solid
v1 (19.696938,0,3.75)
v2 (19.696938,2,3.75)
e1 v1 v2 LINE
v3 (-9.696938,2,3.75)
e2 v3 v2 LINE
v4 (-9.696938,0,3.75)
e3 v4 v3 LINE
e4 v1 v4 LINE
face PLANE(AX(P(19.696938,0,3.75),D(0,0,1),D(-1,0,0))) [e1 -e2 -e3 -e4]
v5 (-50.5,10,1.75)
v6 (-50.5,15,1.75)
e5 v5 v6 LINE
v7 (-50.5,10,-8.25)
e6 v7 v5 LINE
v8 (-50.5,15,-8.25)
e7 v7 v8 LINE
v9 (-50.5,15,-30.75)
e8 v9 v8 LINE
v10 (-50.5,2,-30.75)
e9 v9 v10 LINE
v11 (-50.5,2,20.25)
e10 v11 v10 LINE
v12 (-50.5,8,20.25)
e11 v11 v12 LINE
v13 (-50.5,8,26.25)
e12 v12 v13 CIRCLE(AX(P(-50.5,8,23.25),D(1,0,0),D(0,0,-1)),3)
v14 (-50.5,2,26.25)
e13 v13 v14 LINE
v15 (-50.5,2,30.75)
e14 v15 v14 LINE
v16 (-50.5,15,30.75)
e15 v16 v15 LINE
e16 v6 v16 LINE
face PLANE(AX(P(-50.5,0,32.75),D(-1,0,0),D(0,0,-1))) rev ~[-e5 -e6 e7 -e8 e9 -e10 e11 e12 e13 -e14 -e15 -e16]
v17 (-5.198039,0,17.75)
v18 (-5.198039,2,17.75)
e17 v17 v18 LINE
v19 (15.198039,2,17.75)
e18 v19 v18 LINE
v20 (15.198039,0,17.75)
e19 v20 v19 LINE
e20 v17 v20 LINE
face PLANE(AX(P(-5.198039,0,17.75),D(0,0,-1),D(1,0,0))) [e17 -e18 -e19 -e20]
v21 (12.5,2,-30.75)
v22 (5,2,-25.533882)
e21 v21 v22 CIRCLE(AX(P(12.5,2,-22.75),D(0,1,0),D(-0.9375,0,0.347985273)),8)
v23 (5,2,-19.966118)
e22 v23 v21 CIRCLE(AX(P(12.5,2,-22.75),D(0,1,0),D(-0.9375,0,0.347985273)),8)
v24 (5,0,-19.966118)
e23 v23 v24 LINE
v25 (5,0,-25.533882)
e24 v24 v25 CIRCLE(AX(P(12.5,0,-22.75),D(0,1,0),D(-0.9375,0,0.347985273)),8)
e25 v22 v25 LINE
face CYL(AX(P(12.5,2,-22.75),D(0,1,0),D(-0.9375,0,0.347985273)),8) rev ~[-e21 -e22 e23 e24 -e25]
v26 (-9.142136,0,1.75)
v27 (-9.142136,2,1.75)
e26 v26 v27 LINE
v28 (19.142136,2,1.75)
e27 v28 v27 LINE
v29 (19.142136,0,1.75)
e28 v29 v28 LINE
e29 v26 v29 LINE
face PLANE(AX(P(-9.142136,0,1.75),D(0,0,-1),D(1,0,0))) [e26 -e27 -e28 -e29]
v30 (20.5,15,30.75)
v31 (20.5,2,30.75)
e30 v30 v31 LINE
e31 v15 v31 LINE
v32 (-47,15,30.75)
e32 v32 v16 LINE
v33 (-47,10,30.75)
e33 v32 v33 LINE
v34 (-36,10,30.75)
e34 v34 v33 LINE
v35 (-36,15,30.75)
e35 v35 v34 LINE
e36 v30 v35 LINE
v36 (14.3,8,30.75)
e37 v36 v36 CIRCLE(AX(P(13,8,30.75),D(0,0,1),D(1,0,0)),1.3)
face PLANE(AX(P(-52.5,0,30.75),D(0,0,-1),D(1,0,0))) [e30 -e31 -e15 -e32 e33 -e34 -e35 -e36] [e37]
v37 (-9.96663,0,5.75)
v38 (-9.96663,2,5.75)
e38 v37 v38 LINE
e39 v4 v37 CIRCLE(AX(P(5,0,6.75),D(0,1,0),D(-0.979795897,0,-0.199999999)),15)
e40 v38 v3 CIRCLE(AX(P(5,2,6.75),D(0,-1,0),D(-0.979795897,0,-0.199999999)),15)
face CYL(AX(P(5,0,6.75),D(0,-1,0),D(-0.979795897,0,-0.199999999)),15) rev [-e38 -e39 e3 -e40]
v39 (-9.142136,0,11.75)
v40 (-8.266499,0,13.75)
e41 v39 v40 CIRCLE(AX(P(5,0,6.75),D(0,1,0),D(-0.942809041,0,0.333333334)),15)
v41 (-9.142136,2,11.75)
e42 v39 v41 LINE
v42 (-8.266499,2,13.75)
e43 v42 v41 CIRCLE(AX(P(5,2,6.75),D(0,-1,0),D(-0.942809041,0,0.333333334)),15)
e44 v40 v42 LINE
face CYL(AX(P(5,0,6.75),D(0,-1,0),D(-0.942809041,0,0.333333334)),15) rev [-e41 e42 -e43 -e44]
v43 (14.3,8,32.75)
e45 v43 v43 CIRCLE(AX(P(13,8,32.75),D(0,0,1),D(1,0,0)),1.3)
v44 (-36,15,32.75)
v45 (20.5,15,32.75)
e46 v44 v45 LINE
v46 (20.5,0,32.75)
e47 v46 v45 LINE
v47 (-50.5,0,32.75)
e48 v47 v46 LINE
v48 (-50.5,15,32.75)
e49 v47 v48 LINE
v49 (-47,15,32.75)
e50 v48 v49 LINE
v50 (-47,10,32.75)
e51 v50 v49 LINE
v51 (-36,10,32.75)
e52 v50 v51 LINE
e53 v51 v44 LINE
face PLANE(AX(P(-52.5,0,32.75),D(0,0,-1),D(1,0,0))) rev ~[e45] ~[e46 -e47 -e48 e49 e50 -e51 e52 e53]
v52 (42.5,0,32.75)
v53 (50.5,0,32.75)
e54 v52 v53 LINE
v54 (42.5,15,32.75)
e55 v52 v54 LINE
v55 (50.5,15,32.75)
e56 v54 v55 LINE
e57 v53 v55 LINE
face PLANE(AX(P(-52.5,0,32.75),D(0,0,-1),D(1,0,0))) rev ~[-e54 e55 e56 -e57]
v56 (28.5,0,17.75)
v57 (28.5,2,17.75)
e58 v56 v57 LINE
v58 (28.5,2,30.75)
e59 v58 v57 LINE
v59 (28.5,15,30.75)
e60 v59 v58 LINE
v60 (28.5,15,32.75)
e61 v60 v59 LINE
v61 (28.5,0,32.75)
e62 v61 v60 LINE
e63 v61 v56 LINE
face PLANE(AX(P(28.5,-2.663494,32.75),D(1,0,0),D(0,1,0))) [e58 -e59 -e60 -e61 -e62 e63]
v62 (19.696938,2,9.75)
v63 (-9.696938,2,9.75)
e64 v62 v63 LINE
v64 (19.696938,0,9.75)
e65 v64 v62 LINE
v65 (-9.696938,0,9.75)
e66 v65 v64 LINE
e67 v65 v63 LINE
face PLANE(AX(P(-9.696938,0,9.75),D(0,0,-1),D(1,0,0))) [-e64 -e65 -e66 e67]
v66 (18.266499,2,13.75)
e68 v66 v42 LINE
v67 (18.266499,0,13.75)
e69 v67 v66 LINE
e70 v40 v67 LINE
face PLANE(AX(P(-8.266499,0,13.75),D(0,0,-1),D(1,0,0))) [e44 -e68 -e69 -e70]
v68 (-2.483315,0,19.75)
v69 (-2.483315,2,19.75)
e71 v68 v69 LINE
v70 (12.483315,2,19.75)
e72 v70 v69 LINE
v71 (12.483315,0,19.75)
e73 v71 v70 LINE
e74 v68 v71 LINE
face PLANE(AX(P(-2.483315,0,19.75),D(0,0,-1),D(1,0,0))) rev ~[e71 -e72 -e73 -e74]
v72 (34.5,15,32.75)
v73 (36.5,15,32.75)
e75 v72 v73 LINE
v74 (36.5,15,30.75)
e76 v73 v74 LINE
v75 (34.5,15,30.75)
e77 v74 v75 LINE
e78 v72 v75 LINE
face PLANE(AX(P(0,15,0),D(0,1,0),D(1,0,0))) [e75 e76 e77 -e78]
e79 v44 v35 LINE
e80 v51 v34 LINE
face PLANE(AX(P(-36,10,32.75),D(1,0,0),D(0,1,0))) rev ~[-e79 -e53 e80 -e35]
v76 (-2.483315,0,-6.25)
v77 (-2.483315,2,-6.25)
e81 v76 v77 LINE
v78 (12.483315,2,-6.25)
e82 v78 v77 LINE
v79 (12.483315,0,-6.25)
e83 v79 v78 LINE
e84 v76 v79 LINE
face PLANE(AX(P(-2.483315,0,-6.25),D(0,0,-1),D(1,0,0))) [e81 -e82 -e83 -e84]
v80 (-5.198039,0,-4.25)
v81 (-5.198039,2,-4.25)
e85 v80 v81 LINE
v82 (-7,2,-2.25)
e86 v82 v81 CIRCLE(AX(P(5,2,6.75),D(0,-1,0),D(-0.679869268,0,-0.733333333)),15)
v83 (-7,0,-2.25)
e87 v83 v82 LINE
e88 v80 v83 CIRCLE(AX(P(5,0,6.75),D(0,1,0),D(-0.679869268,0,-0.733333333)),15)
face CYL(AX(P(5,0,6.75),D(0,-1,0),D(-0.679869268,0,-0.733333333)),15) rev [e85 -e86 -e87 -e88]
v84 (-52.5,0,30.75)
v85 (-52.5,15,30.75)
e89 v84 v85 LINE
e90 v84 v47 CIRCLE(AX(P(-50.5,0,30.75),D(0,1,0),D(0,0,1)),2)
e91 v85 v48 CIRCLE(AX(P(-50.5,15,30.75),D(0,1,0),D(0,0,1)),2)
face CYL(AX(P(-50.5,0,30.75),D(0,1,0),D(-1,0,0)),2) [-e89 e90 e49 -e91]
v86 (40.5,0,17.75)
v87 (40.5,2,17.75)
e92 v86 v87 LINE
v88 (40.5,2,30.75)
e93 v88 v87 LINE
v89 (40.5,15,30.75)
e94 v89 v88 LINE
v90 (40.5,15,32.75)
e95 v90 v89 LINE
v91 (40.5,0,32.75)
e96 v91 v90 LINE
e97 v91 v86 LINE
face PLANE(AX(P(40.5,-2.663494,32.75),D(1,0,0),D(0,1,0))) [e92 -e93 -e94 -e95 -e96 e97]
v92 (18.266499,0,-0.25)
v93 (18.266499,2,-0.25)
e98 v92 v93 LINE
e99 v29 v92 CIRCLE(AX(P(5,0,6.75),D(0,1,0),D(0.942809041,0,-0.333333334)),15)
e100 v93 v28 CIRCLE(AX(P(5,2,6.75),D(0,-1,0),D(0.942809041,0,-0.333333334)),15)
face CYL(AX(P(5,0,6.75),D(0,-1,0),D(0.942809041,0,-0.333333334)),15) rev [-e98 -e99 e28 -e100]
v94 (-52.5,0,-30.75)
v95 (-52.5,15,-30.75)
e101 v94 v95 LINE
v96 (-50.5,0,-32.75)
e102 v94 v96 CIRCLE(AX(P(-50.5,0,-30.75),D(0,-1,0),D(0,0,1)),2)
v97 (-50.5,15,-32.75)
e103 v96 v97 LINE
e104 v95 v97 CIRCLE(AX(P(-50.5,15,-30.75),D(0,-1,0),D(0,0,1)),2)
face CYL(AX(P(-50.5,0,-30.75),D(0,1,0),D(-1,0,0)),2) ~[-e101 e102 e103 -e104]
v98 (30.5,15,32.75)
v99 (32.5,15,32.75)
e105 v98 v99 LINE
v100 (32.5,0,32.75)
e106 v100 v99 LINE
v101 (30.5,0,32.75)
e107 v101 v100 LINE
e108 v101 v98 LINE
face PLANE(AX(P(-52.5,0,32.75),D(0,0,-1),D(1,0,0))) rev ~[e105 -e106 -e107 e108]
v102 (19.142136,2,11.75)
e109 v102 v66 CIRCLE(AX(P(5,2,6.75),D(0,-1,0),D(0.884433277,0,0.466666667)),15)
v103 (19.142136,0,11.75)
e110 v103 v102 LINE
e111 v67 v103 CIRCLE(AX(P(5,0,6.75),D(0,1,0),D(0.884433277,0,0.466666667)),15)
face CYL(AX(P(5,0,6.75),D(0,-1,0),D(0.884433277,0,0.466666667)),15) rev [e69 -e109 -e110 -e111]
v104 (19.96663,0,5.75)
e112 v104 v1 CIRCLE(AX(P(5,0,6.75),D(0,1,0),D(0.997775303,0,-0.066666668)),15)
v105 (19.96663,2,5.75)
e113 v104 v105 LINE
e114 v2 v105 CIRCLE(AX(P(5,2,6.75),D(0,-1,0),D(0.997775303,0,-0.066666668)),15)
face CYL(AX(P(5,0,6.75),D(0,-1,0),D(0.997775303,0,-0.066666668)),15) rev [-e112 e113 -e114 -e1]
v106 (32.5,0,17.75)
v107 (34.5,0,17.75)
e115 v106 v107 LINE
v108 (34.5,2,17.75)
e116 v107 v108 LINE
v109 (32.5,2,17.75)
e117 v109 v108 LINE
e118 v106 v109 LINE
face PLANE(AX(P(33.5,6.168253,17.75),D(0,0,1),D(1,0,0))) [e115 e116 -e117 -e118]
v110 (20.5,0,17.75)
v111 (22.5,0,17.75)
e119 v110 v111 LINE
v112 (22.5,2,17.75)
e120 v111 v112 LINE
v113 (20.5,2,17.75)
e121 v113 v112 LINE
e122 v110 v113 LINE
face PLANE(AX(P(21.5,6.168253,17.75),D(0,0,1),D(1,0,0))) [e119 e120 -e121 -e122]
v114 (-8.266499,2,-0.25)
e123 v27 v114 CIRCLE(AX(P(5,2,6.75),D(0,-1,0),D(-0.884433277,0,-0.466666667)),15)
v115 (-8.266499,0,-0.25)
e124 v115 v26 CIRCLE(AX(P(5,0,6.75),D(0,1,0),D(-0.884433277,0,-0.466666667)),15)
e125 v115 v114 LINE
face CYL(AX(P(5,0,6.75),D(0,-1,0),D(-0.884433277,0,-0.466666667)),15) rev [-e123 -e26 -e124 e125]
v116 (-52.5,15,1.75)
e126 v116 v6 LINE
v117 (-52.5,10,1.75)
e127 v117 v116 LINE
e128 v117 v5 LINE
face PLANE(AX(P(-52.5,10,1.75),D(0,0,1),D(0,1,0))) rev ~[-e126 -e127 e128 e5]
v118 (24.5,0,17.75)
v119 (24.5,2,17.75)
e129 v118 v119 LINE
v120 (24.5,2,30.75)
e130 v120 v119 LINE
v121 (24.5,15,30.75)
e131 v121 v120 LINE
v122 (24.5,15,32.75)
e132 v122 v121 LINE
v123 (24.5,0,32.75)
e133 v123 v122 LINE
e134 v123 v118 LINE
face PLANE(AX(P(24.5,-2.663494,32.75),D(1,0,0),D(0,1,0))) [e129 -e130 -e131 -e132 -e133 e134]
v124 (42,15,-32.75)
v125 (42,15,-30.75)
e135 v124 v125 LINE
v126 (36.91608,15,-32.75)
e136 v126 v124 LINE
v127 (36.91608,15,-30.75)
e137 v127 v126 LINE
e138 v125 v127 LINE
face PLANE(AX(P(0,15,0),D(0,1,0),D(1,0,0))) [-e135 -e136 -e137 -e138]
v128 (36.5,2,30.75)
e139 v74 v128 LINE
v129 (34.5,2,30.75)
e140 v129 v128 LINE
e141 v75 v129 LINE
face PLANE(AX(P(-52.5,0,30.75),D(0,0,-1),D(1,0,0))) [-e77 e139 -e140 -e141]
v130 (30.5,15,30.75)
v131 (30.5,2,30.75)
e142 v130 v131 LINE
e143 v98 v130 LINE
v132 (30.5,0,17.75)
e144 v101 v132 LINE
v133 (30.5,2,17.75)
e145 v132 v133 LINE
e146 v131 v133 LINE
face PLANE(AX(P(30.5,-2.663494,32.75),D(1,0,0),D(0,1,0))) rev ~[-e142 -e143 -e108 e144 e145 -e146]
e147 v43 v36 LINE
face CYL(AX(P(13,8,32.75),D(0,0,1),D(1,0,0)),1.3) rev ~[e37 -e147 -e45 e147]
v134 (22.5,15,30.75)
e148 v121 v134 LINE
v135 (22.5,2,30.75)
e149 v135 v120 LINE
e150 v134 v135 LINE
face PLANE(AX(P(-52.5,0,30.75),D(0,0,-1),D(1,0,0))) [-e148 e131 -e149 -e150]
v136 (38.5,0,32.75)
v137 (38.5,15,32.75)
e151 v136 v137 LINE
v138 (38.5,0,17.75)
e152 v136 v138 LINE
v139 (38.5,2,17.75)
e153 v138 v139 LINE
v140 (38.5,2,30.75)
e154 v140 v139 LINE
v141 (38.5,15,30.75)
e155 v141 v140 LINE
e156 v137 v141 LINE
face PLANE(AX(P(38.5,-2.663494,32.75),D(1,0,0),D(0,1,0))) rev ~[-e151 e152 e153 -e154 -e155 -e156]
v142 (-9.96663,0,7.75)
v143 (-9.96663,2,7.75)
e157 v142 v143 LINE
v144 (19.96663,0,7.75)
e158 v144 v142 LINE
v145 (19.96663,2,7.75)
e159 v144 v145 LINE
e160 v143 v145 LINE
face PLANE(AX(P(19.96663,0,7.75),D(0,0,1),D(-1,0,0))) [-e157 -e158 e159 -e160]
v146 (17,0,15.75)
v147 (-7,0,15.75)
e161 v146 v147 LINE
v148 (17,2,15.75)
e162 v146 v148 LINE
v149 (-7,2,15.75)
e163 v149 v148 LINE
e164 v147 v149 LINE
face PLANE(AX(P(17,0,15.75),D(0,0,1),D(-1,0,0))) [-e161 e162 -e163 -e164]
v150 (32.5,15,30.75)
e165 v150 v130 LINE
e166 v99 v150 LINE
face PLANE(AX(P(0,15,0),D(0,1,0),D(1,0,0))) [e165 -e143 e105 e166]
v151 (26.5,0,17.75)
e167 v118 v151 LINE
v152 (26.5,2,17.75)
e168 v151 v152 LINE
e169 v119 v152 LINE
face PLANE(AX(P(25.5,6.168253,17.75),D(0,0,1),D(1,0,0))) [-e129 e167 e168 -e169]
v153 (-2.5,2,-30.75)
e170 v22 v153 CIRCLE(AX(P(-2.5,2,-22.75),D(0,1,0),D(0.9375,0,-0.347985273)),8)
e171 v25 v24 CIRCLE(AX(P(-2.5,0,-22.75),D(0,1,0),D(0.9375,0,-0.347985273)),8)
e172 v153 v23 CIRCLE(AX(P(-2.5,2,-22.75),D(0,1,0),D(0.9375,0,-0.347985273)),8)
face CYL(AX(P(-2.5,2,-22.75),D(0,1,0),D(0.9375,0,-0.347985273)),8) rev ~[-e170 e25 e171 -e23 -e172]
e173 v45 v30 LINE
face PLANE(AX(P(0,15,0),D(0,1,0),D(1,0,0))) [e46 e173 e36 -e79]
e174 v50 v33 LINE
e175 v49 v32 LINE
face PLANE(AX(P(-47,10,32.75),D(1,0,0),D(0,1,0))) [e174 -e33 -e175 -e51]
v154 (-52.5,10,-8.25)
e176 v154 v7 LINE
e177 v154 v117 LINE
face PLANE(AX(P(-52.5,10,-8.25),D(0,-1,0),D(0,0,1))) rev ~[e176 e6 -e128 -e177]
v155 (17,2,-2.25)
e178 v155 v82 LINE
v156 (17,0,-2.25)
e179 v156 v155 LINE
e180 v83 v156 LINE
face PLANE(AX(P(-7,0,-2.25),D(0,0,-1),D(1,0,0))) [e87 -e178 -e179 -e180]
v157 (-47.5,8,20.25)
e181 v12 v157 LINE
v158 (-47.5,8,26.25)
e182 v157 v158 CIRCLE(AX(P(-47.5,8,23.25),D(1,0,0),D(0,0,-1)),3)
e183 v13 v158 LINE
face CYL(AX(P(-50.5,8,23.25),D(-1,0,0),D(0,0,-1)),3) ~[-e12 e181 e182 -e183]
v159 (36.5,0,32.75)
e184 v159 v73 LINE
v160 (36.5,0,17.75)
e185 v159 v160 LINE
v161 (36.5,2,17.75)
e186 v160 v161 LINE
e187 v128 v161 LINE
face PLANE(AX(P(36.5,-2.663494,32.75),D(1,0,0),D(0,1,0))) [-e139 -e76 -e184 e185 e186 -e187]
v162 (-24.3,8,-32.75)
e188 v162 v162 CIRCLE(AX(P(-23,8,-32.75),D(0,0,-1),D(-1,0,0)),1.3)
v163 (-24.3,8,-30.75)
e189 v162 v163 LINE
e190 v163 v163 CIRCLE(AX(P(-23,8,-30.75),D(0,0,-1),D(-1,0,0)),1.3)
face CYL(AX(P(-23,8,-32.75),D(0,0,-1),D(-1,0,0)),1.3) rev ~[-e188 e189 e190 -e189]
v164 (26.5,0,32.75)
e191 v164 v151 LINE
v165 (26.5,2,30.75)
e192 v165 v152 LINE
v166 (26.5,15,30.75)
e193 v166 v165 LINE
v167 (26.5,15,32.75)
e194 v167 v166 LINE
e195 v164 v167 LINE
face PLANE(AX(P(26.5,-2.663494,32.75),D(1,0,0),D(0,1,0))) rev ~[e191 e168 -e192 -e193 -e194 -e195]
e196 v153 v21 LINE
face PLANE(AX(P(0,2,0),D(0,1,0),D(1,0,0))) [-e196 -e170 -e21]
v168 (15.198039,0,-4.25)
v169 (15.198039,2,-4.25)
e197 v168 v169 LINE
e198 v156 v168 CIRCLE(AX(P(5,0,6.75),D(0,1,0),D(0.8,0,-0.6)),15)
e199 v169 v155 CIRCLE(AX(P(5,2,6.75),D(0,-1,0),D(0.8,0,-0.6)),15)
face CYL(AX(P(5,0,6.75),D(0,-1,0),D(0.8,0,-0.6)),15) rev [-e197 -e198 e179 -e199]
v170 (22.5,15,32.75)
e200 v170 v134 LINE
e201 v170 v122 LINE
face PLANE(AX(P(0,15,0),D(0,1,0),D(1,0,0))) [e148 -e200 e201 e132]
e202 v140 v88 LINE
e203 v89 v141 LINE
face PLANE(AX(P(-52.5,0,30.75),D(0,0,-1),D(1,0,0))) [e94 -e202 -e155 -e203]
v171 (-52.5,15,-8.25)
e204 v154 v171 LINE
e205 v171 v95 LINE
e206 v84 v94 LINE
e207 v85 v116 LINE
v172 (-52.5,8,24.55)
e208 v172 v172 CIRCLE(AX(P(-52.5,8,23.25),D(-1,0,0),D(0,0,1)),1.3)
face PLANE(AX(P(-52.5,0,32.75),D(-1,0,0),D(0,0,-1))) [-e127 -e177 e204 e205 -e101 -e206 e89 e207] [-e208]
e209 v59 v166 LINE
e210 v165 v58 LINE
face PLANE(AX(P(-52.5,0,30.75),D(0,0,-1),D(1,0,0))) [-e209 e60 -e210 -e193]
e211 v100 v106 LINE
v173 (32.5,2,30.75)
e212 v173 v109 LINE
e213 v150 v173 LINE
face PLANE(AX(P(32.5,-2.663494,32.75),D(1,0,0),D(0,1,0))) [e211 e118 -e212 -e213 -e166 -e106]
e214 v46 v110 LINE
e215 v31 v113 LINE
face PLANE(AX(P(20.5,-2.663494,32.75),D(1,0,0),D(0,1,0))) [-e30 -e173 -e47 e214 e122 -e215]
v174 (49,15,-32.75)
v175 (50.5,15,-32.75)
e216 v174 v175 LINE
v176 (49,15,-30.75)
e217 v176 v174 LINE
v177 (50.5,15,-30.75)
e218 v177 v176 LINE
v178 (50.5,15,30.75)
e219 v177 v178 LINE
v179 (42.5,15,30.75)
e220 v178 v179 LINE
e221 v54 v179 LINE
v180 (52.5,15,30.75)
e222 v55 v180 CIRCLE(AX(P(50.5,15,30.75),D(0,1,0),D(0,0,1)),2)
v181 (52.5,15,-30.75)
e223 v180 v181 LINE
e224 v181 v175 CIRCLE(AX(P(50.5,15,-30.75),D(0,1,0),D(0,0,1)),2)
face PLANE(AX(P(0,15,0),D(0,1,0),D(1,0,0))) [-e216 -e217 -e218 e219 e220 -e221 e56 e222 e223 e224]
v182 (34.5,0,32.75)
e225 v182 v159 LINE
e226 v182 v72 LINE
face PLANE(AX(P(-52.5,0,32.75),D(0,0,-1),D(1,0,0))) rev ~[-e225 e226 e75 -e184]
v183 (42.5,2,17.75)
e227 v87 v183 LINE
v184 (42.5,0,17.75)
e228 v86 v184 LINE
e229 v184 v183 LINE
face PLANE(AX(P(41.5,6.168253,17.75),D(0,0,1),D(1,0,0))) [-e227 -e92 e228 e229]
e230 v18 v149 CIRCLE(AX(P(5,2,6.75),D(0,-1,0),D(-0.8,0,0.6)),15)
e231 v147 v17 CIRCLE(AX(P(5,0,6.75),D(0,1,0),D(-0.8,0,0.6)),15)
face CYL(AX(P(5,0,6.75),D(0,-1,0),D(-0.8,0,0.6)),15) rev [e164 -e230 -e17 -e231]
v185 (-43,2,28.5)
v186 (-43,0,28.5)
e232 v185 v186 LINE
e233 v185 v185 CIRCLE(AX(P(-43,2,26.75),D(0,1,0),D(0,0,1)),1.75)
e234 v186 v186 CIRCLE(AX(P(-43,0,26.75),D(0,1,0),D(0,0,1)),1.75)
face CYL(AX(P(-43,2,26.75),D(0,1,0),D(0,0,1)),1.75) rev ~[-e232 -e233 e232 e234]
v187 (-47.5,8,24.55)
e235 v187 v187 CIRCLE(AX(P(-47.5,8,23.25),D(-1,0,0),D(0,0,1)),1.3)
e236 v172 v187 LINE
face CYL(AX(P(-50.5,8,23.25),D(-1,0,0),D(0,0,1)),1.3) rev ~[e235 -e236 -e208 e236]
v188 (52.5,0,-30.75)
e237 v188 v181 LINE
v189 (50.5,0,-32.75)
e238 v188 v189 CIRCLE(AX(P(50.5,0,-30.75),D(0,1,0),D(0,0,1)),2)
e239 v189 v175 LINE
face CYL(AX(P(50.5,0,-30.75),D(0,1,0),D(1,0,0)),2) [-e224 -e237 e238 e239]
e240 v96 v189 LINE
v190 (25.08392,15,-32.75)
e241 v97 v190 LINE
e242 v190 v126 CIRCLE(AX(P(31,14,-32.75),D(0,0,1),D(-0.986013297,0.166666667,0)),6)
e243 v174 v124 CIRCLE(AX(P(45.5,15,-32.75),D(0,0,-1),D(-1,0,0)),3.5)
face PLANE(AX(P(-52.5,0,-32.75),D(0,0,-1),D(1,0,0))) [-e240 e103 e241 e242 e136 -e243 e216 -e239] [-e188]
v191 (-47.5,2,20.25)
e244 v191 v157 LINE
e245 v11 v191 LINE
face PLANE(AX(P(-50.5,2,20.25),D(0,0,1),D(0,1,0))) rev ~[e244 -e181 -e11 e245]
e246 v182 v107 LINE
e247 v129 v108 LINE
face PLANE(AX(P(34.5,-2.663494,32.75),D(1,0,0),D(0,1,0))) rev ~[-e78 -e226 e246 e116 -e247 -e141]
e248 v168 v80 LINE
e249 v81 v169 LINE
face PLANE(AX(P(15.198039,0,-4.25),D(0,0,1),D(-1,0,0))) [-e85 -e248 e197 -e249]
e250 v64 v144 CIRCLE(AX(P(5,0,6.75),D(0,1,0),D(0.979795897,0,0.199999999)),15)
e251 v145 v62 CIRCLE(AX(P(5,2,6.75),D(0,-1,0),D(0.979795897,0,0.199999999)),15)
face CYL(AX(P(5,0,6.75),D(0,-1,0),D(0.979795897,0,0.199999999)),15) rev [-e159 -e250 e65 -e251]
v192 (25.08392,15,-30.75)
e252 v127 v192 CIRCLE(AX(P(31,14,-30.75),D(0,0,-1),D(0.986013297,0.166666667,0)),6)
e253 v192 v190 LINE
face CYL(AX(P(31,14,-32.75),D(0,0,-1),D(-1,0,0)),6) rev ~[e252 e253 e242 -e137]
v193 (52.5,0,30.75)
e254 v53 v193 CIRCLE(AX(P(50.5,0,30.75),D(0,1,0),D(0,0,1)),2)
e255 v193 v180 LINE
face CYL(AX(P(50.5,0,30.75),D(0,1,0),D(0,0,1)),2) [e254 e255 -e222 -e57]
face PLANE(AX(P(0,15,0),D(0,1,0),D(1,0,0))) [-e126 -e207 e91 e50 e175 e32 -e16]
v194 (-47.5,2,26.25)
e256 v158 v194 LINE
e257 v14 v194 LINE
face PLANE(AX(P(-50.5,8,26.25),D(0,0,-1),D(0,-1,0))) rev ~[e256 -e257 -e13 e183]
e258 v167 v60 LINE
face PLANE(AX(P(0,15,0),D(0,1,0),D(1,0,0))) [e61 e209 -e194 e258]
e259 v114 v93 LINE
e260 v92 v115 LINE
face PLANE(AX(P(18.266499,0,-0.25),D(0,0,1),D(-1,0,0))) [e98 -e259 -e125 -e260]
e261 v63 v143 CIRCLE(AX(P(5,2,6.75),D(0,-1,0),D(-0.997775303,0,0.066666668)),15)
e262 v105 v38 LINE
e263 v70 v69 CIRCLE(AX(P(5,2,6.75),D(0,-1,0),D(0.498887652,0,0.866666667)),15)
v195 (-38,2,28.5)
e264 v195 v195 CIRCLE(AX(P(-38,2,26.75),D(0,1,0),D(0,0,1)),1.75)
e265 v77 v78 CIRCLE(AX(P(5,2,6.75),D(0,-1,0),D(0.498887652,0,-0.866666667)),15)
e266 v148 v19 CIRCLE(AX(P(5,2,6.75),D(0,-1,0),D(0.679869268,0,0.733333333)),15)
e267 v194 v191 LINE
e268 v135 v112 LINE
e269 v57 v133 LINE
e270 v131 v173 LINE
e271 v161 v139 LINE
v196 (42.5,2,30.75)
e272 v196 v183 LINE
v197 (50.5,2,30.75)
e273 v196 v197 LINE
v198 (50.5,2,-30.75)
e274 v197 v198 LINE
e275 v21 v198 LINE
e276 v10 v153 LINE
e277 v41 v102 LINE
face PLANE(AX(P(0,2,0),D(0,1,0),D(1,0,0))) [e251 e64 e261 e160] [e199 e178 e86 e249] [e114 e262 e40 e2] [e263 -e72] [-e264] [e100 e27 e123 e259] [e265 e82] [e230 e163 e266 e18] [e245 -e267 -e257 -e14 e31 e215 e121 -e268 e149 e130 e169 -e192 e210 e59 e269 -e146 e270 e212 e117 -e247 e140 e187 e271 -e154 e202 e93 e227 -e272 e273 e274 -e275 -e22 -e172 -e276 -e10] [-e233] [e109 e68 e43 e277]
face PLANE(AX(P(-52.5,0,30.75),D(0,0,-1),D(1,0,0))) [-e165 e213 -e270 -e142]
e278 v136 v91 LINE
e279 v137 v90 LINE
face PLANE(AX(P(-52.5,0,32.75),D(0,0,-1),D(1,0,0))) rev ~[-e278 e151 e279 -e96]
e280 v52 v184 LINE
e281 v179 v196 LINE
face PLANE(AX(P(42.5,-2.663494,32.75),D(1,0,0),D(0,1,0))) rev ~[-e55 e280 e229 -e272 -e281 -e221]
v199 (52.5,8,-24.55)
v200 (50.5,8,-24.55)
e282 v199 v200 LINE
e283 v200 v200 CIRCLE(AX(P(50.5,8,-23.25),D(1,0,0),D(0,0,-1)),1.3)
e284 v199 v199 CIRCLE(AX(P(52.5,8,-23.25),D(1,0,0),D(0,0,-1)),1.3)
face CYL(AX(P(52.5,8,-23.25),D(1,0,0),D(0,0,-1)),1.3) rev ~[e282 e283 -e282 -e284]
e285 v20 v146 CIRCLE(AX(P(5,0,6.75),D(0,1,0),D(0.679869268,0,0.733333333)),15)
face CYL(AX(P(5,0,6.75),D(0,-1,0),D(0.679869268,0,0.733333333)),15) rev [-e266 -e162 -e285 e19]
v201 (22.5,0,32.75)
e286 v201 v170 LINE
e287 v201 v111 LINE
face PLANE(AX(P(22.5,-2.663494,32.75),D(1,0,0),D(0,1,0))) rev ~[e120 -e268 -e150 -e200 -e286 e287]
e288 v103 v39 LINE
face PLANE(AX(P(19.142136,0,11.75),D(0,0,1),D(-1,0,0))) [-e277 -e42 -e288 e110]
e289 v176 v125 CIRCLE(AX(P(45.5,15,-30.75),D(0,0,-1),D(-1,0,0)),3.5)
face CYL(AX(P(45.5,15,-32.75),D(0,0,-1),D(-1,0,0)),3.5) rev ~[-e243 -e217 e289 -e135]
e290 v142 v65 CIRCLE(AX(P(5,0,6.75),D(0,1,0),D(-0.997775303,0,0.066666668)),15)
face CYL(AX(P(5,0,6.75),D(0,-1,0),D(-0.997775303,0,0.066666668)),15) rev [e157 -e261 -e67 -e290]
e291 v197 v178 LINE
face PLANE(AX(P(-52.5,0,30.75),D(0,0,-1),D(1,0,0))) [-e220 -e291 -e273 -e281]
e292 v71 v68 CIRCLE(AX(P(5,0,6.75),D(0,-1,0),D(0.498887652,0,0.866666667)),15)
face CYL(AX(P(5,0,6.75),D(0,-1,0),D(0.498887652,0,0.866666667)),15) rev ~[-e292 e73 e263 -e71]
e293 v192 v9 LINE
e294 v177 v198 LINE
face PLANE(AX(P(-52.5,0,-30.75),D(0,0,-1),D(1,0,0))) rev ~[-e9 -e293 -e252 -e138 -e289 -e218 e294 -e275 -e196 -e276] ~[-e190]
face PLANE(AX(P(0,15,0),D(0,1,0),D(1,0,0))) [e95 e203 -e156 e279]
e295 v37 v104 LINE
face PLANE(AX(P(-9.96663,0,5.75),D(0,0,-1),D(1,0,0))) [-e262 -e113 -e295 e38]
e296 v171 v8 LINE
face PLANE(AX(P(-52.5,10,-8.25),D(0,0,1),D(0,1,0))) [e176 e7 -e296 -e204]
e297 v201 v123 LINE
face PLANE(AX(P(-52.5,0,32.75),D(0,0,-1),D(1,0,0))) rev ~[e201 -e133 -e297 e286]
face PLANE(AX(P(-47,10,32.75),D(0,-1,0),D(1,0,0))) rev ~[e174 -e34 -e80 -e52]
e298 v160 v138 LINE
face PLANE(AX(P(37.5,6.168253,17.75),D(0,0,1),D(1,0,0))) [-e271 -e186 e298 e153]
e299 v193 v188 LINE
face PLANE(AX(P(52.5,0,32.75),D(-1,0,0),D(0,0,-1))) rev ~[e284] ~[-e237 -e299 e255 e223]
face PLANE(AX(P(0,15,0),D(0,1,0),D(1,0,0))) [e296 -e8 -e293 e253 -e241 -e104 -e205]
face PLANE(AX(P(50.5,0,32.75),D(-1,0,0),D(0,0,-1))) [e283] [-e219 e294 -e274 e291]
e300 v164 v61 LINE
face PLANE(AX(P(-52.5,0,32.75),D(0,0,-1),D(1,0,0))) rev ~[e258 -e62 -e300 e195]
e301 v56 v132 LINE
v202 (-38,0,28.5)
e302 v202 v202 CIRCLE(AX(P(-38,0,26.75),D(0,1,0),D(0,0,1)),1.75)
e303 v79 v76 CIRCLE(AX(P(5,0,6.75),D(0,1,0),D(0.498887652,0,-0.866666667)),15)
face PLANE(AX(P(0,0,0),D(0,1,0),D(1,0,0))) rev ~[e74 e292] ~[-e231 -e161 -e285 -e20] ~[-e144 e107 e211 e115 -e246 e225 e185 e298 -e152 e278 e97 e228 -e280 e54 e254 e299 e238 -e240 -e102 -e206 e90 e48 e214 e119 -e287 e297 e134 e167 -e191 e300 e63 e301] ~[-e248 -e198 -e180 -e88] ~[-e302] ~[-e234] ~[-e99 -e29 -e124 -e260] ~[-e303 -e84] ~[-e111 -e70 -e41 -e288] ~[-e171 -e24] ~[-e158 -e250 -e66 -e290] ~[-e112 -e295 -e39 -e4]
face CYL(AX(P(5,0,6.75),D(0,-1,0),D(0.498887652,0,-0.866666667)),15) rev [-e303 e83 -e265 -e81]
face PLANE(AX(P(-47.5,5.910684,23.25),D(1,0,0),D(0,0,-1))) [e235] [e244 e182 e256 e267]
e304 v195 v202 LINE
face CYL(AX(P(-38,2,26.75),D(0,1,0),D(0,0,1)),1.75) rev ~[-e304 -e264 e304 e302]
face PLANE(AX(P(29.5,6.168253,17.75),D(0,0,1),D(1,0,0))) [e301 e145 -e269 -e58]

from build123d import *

# Parameters (mm, degrees)
SKETCH_1_W           = 105
SKETCH_1_H           = 65.5
EXTRUDE_1_DEPTH      = 15
SHELL_1_T            = -2
FILLET_1_R           = 2
SKETCH_2_W           = 10
SKETCH_2_H           = 5
CUT_EXTRUDE_1_DEPTH  = 14
SKETCH_3_W           = 11
SKETCH_3_H           = 5
CUT_EXTRUDE_2_DEPTH  = 14
SKETCH_5_W           = 2
SKETCH_5_H           = 17.663494354
CUT_EXTRUDE_3_DEPTH  = 15
SKETCH_6_R           = 3.5
SKETCH_6_R_2         = 6
CUT_EXTRUDE_4_DEPTH  = 15
CUT_EXTRUDE_5_DEPTH  = 15
CUT_EXTRUDE_6_DEPTH  = 15
SKETCH_9_R           = 1.75
CUT_EXTRUDE_7_DEPTH  = 15
SKETCH_10_R          = 1.3
CUT_EXTRUDE_8_DEPTH  = 15
SKETCH_12_R          = 1.3
CUT_EXTRUDE_9_DEPTH  = 15
EXTRUDE_3_DEPTH      = 3
SKETCH_16_R          = 1.3
CUT_EXTRUDE_11_DEPTH = 8
SKETCH_17_R          = 1.3
CUT_EXTRUDE_12_DEPTH = 39
SKETCH_18_R          = 1.3
CUT_EXTRUDE_13_DEPTH = 39


with BuildPart() as part:
    # 草图1 → 凸台-拉伸1 (new body)
    with BuildSketch(Plane(origin=(0, 0, 0), x_dir=(1, 0, 0), z_dir=(0, 1, 0))):
        Rectangle(SKETCH_1_W, SKETCH_1_H)
    extrude(amount=EXTRUDE_1_DEPTH)

    # 抽壳1
    shell_1_openings = [part.faces().sort_by_distance(p)[0] for p in [
        (0, 15, 0),
    ]]
    offset(amount=SHELL_1_T, openings=shell_1_openings, kind=Kind.INTERSECTION)

    # 圆角1
    fillet_1_edges = [part.edges().sort_by_distance(p)[0] for p in [
        (-52.5, 7.5, -32.75),
        (52.5, 7.5, -32.75),
        (52.5, 7.5, 32.75),
        (-52.5, 7.5, 32.75),
    ]]
    fillet(fillet_1_edges, radius=FILLET_1_R)

    # 草图2 → 切除-拉伸1 (cut)
    with BuildSketch(Plane.ZY.offset(52.5)):
        with Locations((-3.25, 12.5)):
            Rectangle(SKETCH_2_W, SKETCH_2_H)
    extrude(amount=-CUT_EXTRUDE_1_DEPTH, mode=Mode.SUBTRACT)

    # 草图3 → 切除-拉伸2 (cut)
    with BuildSketch(Plane.XY.offset(32.75)):
        with Locations((-41.5, 12.5)):
            Rectangle(SKETCH_3_W, SKETCH_3_H)
    extrude(amount=-CUT_EXTRUDE_2_DEPTH, mode=Mode.SUBTRACT)

    # 草图5 → 切除-拉伸3 (cut)
    with BuildSketch(Plane.XY.offset(32.75)):
        with Locations((41.5, 6.168252823)):
            Rectangle(SKETCH_5_W, SKETCH_5_H)
        with Locations((37.5, 6.168252823)):
            Rectangle(SKETCH_5_W, SKETCH_5_H)
        with Locations((33.5, 6.168252823)):
            Rectangle(SKETCH_5_W, SKETCH_5_H)
        with Locations((29.5, 6.168252823)):
            Rectangle(SKETCH_5_W, SKETCH_5_H)
        with Locations((25.5, 6.168252823)):
            Rectangle(SKETCH_5_W, SKETCH_5_H)
        with Locations((21.5, 6.168252823)):
            Rectangle(SKETCH_5_W, SKETCH_5_H)
    extrude(amount=-CUT_EXTRUDE_3_DEPTH, mode=Mode.SUBTRACT)

    # 草图6 → 切除-拉伸4 (cut)
    with BuildSketch(Plane(origin=(0, 0, -32.75), x_dir=(-1, 0, 0), z_dir=(0, 0, -1))):
        with Locations((-45.5, 15)):
            Circle(SKETCH_6_R)
        with Locations((-31, 14)):
            Circle(SKETCH_6_R_2)
    extrude(amount=-CUT_EXTRUDE_4_DEPTH, mode=Mode.SUBTRACT)

    # 草图7 → 切除-拉伸5 (cut)
    with BuildSketch(Plane(origin=(0, 2, 0), x_dir=(1, 0, 0), z_dir=(0, 1, 0))):
        with BuildLine():
            ThreePointArc((5, 19.966117819), (20.5, 22.75), (5, 25.533882181))
            ThreePointArc((5, 25.533882181), (-10.5, 22.75), (5, 19.966117819))
        make_face()
    extrude(amount=-CUT_EXTRUDE_5_DEPTH, mode=Mode.SUBTRACT)

    # 草图8 → 切除-拉伸6 (cut)
    with BuildSketch(Plane.XZ):
        with BuildLine():
            Line((-2.483314774, 19.75), (12.483314774, 19.75))
            ThreePointArc((12.483314774, 19.75), (5, 21.75), (-2.483314774, 19.75))
        make_face()
        with BuildLine():
            Line((-5.198039027, 17.75), (15.198039027, 17.75))
            ThreePointArc((15.198039027, 17.75), (16.143977484, 16.790506254), (17, 15.75))
            Line((17, 15.75), (-7, 15.75))
            ThreePointArc((-7, 15.75), (-6.143977484, 16.790506254), (-5.198039027, 17.75))
        make_face()
        with BuildLine():
            Line((-8.266499161, 13.75), (18.266499161, 13.75))
            ThreePointArc((18.266499161, 13.75), (18.740753807, 12.765952527), (19.142135624, 11.75))
            Line((19.142135624, 11.75), (-9.142135624, 11.75))
            ThreePointArc((-9.142135624, 11.75), (-8.740753807, 12.765952527), (-8.266499161, 13.75))
        make_face()
        with BuildLine():
            Line((-9.696938457, 9.75), (19.696938457, 9.75))
            ThreePointArc((19.696938457, 9.75), (19.865457163, 8.754540676), (19.966629547, 7.75))
            Line((19.966629547, 7.75), (-9.966629547, 7.75))
            ThreePointArc((-9.966629547, 7.75), (-9.865457163, 8.754540676), (-9.696938457, 9.75))
        make_face()
        with BuildLine():
            Line((-9.966629547, 5.75), (19.966629547, 5.75))
            ThreePointArc((19.966629547, 5.75), (19.865457163, 4.745459324), (19.696938457, 3.75))
            Line((19.696938457, 3.75), (-9.696938457, 3.75))
            ThreePointArc((-9.696938457, 3.75), (-9.865457163, 4.745459324), (-9.966629547, 5.75))
        make_face()
        with BuildLine():
            Line((-9.142135624, 1.75), (19.142135624, 1.75))
            ThreePointArc((19.142135624, 1.75), (18.740753807, 0.734047473), (18.266499161, -0.25))
            Line((18.266499161, -0.25), (-8.266499161, -0.25))
            ThreePointArc((-8.266499161, -0.25), (-8.740753807, 0.734047473), (-9.142135624, 1.75))
        make_face()
        with BuildLine():
            Line((-7, -2.25), (17, -2.25))
            ThreePointArc((17, -2.25), (16.143977484, -3.290506254), (15.198039027, -4.25))
            Line((15.198039027, -4.25), (-5.198039027, -4.25))
            ThreePointArc((-5.198039027, -4.25), (-6.143977484, -3.290506254), (-7, -2.25))
        make_face()
        with BuildLine():
            Line((-2.483314774, -6.25), (12.483314774, -6.25))
            ThreePointArc((12.483314774, -6.25), (5, -8.25), (-2.483314774, -6.25))
        make_face()
    extrude(amount=-CUT_EXTRUDE_6_DEPTH, mode=Mode.SUBTRACT)

    # 草图9 → 切除-拉伸7 (cut)
    with BuildSketch(Plane(origin=(0, 2, 0), x_dir=(1, 0, 0), z_dir=(0, 1, 0))):
        with Locations(Location((-43, -26.75, 0), (0, 0, 270))):
            Circle(SKETCH_9_R)
        with Locations(Location((-38, -26.75, 0), (0, 0, 270))):
            Circle(SKETCH_9_R)
    extrude(amount=-CUT_EXTRUDE_7_DEPTH, mode=Mode.SUBTRACT)

    # 草图10 → 切除-拉伸8 (cut)
    with BuildSketch(Plane.ZY.offset(52.5)):
        with Locations((23.25, 8)):
            Circle(SKETCH_10_R)
    extrude(amount=-CUT_EXTRUDE_8_DEPTH, mode=Mode.SUBTRACT)

    # 草图12 → 切除-拉伸9 (cut)
    with BuildSketch(Plane(origin=(52.5, 0, 0), x_dir=(0, 0, -1), z_dir=(1, 0, 0))):
        with Locations((23.25, 8)):
            Circle(SKETCH_12_R)
    extrude(amount=-CUT_EXTRUDE_9_DEPTH, mode=Mode.SUBTRACT)

    # 草图13 → 凸台-拉伸3 (add)
    with BuildSketch(Plane(origin=(-50.5, 0, 0), x_dir=(0, 0, -1), z_dir=(1, 0, 0))):
        with BuildLine():
            Line((-26.25, 8), (-26.25, 2))
            Line((-26.25, 2), (-20.25, 2))
            Line((-20.25, 2), (-20.25, 8))
            ThreePointArc((-20.25, 8), (-23.25, 11), (-26.25, 8))
        make_face()
    extrude(amount=EXTRUDE_3_DEPTH)

    # 草图16 → 切除-拉伸11 (cut)
    with BuildSketch(Plane.ZY.offset(50.5)):
        with Locations((23.25, 8)):
            Circle(SKETCH_16_R)
    extrude(amount=-CUT_EXTRUDE_11_DEPTH, mode=Mode.SUBTRACT)

    # 草图17 → 切除-拉伸12 (cut)
    with BuildSketch(Plane.XY.offset(32.75)):
        with Locations((13, 8)):
            Circle(SKETCH_17_R)
    extrude(amount=-CUT_EXTRUDE_12_DEPTH, mode=Mode.SUBTRACT)

    # 草图18 → 切除-拉伸13 (cut)
    with BuildSketch(Plane(origin=(0, 0, -32.75), x_dir=(-1, 0, 0), z_dir=(0, 0, -1))):
        with Locations((23, 8)):
            Circle(SKETCH_18_R)
    extrude(amount=-CUT_EXTRUDE_13_DEPTH, mode=Mode.SUBTRACT)


solid = part.part
